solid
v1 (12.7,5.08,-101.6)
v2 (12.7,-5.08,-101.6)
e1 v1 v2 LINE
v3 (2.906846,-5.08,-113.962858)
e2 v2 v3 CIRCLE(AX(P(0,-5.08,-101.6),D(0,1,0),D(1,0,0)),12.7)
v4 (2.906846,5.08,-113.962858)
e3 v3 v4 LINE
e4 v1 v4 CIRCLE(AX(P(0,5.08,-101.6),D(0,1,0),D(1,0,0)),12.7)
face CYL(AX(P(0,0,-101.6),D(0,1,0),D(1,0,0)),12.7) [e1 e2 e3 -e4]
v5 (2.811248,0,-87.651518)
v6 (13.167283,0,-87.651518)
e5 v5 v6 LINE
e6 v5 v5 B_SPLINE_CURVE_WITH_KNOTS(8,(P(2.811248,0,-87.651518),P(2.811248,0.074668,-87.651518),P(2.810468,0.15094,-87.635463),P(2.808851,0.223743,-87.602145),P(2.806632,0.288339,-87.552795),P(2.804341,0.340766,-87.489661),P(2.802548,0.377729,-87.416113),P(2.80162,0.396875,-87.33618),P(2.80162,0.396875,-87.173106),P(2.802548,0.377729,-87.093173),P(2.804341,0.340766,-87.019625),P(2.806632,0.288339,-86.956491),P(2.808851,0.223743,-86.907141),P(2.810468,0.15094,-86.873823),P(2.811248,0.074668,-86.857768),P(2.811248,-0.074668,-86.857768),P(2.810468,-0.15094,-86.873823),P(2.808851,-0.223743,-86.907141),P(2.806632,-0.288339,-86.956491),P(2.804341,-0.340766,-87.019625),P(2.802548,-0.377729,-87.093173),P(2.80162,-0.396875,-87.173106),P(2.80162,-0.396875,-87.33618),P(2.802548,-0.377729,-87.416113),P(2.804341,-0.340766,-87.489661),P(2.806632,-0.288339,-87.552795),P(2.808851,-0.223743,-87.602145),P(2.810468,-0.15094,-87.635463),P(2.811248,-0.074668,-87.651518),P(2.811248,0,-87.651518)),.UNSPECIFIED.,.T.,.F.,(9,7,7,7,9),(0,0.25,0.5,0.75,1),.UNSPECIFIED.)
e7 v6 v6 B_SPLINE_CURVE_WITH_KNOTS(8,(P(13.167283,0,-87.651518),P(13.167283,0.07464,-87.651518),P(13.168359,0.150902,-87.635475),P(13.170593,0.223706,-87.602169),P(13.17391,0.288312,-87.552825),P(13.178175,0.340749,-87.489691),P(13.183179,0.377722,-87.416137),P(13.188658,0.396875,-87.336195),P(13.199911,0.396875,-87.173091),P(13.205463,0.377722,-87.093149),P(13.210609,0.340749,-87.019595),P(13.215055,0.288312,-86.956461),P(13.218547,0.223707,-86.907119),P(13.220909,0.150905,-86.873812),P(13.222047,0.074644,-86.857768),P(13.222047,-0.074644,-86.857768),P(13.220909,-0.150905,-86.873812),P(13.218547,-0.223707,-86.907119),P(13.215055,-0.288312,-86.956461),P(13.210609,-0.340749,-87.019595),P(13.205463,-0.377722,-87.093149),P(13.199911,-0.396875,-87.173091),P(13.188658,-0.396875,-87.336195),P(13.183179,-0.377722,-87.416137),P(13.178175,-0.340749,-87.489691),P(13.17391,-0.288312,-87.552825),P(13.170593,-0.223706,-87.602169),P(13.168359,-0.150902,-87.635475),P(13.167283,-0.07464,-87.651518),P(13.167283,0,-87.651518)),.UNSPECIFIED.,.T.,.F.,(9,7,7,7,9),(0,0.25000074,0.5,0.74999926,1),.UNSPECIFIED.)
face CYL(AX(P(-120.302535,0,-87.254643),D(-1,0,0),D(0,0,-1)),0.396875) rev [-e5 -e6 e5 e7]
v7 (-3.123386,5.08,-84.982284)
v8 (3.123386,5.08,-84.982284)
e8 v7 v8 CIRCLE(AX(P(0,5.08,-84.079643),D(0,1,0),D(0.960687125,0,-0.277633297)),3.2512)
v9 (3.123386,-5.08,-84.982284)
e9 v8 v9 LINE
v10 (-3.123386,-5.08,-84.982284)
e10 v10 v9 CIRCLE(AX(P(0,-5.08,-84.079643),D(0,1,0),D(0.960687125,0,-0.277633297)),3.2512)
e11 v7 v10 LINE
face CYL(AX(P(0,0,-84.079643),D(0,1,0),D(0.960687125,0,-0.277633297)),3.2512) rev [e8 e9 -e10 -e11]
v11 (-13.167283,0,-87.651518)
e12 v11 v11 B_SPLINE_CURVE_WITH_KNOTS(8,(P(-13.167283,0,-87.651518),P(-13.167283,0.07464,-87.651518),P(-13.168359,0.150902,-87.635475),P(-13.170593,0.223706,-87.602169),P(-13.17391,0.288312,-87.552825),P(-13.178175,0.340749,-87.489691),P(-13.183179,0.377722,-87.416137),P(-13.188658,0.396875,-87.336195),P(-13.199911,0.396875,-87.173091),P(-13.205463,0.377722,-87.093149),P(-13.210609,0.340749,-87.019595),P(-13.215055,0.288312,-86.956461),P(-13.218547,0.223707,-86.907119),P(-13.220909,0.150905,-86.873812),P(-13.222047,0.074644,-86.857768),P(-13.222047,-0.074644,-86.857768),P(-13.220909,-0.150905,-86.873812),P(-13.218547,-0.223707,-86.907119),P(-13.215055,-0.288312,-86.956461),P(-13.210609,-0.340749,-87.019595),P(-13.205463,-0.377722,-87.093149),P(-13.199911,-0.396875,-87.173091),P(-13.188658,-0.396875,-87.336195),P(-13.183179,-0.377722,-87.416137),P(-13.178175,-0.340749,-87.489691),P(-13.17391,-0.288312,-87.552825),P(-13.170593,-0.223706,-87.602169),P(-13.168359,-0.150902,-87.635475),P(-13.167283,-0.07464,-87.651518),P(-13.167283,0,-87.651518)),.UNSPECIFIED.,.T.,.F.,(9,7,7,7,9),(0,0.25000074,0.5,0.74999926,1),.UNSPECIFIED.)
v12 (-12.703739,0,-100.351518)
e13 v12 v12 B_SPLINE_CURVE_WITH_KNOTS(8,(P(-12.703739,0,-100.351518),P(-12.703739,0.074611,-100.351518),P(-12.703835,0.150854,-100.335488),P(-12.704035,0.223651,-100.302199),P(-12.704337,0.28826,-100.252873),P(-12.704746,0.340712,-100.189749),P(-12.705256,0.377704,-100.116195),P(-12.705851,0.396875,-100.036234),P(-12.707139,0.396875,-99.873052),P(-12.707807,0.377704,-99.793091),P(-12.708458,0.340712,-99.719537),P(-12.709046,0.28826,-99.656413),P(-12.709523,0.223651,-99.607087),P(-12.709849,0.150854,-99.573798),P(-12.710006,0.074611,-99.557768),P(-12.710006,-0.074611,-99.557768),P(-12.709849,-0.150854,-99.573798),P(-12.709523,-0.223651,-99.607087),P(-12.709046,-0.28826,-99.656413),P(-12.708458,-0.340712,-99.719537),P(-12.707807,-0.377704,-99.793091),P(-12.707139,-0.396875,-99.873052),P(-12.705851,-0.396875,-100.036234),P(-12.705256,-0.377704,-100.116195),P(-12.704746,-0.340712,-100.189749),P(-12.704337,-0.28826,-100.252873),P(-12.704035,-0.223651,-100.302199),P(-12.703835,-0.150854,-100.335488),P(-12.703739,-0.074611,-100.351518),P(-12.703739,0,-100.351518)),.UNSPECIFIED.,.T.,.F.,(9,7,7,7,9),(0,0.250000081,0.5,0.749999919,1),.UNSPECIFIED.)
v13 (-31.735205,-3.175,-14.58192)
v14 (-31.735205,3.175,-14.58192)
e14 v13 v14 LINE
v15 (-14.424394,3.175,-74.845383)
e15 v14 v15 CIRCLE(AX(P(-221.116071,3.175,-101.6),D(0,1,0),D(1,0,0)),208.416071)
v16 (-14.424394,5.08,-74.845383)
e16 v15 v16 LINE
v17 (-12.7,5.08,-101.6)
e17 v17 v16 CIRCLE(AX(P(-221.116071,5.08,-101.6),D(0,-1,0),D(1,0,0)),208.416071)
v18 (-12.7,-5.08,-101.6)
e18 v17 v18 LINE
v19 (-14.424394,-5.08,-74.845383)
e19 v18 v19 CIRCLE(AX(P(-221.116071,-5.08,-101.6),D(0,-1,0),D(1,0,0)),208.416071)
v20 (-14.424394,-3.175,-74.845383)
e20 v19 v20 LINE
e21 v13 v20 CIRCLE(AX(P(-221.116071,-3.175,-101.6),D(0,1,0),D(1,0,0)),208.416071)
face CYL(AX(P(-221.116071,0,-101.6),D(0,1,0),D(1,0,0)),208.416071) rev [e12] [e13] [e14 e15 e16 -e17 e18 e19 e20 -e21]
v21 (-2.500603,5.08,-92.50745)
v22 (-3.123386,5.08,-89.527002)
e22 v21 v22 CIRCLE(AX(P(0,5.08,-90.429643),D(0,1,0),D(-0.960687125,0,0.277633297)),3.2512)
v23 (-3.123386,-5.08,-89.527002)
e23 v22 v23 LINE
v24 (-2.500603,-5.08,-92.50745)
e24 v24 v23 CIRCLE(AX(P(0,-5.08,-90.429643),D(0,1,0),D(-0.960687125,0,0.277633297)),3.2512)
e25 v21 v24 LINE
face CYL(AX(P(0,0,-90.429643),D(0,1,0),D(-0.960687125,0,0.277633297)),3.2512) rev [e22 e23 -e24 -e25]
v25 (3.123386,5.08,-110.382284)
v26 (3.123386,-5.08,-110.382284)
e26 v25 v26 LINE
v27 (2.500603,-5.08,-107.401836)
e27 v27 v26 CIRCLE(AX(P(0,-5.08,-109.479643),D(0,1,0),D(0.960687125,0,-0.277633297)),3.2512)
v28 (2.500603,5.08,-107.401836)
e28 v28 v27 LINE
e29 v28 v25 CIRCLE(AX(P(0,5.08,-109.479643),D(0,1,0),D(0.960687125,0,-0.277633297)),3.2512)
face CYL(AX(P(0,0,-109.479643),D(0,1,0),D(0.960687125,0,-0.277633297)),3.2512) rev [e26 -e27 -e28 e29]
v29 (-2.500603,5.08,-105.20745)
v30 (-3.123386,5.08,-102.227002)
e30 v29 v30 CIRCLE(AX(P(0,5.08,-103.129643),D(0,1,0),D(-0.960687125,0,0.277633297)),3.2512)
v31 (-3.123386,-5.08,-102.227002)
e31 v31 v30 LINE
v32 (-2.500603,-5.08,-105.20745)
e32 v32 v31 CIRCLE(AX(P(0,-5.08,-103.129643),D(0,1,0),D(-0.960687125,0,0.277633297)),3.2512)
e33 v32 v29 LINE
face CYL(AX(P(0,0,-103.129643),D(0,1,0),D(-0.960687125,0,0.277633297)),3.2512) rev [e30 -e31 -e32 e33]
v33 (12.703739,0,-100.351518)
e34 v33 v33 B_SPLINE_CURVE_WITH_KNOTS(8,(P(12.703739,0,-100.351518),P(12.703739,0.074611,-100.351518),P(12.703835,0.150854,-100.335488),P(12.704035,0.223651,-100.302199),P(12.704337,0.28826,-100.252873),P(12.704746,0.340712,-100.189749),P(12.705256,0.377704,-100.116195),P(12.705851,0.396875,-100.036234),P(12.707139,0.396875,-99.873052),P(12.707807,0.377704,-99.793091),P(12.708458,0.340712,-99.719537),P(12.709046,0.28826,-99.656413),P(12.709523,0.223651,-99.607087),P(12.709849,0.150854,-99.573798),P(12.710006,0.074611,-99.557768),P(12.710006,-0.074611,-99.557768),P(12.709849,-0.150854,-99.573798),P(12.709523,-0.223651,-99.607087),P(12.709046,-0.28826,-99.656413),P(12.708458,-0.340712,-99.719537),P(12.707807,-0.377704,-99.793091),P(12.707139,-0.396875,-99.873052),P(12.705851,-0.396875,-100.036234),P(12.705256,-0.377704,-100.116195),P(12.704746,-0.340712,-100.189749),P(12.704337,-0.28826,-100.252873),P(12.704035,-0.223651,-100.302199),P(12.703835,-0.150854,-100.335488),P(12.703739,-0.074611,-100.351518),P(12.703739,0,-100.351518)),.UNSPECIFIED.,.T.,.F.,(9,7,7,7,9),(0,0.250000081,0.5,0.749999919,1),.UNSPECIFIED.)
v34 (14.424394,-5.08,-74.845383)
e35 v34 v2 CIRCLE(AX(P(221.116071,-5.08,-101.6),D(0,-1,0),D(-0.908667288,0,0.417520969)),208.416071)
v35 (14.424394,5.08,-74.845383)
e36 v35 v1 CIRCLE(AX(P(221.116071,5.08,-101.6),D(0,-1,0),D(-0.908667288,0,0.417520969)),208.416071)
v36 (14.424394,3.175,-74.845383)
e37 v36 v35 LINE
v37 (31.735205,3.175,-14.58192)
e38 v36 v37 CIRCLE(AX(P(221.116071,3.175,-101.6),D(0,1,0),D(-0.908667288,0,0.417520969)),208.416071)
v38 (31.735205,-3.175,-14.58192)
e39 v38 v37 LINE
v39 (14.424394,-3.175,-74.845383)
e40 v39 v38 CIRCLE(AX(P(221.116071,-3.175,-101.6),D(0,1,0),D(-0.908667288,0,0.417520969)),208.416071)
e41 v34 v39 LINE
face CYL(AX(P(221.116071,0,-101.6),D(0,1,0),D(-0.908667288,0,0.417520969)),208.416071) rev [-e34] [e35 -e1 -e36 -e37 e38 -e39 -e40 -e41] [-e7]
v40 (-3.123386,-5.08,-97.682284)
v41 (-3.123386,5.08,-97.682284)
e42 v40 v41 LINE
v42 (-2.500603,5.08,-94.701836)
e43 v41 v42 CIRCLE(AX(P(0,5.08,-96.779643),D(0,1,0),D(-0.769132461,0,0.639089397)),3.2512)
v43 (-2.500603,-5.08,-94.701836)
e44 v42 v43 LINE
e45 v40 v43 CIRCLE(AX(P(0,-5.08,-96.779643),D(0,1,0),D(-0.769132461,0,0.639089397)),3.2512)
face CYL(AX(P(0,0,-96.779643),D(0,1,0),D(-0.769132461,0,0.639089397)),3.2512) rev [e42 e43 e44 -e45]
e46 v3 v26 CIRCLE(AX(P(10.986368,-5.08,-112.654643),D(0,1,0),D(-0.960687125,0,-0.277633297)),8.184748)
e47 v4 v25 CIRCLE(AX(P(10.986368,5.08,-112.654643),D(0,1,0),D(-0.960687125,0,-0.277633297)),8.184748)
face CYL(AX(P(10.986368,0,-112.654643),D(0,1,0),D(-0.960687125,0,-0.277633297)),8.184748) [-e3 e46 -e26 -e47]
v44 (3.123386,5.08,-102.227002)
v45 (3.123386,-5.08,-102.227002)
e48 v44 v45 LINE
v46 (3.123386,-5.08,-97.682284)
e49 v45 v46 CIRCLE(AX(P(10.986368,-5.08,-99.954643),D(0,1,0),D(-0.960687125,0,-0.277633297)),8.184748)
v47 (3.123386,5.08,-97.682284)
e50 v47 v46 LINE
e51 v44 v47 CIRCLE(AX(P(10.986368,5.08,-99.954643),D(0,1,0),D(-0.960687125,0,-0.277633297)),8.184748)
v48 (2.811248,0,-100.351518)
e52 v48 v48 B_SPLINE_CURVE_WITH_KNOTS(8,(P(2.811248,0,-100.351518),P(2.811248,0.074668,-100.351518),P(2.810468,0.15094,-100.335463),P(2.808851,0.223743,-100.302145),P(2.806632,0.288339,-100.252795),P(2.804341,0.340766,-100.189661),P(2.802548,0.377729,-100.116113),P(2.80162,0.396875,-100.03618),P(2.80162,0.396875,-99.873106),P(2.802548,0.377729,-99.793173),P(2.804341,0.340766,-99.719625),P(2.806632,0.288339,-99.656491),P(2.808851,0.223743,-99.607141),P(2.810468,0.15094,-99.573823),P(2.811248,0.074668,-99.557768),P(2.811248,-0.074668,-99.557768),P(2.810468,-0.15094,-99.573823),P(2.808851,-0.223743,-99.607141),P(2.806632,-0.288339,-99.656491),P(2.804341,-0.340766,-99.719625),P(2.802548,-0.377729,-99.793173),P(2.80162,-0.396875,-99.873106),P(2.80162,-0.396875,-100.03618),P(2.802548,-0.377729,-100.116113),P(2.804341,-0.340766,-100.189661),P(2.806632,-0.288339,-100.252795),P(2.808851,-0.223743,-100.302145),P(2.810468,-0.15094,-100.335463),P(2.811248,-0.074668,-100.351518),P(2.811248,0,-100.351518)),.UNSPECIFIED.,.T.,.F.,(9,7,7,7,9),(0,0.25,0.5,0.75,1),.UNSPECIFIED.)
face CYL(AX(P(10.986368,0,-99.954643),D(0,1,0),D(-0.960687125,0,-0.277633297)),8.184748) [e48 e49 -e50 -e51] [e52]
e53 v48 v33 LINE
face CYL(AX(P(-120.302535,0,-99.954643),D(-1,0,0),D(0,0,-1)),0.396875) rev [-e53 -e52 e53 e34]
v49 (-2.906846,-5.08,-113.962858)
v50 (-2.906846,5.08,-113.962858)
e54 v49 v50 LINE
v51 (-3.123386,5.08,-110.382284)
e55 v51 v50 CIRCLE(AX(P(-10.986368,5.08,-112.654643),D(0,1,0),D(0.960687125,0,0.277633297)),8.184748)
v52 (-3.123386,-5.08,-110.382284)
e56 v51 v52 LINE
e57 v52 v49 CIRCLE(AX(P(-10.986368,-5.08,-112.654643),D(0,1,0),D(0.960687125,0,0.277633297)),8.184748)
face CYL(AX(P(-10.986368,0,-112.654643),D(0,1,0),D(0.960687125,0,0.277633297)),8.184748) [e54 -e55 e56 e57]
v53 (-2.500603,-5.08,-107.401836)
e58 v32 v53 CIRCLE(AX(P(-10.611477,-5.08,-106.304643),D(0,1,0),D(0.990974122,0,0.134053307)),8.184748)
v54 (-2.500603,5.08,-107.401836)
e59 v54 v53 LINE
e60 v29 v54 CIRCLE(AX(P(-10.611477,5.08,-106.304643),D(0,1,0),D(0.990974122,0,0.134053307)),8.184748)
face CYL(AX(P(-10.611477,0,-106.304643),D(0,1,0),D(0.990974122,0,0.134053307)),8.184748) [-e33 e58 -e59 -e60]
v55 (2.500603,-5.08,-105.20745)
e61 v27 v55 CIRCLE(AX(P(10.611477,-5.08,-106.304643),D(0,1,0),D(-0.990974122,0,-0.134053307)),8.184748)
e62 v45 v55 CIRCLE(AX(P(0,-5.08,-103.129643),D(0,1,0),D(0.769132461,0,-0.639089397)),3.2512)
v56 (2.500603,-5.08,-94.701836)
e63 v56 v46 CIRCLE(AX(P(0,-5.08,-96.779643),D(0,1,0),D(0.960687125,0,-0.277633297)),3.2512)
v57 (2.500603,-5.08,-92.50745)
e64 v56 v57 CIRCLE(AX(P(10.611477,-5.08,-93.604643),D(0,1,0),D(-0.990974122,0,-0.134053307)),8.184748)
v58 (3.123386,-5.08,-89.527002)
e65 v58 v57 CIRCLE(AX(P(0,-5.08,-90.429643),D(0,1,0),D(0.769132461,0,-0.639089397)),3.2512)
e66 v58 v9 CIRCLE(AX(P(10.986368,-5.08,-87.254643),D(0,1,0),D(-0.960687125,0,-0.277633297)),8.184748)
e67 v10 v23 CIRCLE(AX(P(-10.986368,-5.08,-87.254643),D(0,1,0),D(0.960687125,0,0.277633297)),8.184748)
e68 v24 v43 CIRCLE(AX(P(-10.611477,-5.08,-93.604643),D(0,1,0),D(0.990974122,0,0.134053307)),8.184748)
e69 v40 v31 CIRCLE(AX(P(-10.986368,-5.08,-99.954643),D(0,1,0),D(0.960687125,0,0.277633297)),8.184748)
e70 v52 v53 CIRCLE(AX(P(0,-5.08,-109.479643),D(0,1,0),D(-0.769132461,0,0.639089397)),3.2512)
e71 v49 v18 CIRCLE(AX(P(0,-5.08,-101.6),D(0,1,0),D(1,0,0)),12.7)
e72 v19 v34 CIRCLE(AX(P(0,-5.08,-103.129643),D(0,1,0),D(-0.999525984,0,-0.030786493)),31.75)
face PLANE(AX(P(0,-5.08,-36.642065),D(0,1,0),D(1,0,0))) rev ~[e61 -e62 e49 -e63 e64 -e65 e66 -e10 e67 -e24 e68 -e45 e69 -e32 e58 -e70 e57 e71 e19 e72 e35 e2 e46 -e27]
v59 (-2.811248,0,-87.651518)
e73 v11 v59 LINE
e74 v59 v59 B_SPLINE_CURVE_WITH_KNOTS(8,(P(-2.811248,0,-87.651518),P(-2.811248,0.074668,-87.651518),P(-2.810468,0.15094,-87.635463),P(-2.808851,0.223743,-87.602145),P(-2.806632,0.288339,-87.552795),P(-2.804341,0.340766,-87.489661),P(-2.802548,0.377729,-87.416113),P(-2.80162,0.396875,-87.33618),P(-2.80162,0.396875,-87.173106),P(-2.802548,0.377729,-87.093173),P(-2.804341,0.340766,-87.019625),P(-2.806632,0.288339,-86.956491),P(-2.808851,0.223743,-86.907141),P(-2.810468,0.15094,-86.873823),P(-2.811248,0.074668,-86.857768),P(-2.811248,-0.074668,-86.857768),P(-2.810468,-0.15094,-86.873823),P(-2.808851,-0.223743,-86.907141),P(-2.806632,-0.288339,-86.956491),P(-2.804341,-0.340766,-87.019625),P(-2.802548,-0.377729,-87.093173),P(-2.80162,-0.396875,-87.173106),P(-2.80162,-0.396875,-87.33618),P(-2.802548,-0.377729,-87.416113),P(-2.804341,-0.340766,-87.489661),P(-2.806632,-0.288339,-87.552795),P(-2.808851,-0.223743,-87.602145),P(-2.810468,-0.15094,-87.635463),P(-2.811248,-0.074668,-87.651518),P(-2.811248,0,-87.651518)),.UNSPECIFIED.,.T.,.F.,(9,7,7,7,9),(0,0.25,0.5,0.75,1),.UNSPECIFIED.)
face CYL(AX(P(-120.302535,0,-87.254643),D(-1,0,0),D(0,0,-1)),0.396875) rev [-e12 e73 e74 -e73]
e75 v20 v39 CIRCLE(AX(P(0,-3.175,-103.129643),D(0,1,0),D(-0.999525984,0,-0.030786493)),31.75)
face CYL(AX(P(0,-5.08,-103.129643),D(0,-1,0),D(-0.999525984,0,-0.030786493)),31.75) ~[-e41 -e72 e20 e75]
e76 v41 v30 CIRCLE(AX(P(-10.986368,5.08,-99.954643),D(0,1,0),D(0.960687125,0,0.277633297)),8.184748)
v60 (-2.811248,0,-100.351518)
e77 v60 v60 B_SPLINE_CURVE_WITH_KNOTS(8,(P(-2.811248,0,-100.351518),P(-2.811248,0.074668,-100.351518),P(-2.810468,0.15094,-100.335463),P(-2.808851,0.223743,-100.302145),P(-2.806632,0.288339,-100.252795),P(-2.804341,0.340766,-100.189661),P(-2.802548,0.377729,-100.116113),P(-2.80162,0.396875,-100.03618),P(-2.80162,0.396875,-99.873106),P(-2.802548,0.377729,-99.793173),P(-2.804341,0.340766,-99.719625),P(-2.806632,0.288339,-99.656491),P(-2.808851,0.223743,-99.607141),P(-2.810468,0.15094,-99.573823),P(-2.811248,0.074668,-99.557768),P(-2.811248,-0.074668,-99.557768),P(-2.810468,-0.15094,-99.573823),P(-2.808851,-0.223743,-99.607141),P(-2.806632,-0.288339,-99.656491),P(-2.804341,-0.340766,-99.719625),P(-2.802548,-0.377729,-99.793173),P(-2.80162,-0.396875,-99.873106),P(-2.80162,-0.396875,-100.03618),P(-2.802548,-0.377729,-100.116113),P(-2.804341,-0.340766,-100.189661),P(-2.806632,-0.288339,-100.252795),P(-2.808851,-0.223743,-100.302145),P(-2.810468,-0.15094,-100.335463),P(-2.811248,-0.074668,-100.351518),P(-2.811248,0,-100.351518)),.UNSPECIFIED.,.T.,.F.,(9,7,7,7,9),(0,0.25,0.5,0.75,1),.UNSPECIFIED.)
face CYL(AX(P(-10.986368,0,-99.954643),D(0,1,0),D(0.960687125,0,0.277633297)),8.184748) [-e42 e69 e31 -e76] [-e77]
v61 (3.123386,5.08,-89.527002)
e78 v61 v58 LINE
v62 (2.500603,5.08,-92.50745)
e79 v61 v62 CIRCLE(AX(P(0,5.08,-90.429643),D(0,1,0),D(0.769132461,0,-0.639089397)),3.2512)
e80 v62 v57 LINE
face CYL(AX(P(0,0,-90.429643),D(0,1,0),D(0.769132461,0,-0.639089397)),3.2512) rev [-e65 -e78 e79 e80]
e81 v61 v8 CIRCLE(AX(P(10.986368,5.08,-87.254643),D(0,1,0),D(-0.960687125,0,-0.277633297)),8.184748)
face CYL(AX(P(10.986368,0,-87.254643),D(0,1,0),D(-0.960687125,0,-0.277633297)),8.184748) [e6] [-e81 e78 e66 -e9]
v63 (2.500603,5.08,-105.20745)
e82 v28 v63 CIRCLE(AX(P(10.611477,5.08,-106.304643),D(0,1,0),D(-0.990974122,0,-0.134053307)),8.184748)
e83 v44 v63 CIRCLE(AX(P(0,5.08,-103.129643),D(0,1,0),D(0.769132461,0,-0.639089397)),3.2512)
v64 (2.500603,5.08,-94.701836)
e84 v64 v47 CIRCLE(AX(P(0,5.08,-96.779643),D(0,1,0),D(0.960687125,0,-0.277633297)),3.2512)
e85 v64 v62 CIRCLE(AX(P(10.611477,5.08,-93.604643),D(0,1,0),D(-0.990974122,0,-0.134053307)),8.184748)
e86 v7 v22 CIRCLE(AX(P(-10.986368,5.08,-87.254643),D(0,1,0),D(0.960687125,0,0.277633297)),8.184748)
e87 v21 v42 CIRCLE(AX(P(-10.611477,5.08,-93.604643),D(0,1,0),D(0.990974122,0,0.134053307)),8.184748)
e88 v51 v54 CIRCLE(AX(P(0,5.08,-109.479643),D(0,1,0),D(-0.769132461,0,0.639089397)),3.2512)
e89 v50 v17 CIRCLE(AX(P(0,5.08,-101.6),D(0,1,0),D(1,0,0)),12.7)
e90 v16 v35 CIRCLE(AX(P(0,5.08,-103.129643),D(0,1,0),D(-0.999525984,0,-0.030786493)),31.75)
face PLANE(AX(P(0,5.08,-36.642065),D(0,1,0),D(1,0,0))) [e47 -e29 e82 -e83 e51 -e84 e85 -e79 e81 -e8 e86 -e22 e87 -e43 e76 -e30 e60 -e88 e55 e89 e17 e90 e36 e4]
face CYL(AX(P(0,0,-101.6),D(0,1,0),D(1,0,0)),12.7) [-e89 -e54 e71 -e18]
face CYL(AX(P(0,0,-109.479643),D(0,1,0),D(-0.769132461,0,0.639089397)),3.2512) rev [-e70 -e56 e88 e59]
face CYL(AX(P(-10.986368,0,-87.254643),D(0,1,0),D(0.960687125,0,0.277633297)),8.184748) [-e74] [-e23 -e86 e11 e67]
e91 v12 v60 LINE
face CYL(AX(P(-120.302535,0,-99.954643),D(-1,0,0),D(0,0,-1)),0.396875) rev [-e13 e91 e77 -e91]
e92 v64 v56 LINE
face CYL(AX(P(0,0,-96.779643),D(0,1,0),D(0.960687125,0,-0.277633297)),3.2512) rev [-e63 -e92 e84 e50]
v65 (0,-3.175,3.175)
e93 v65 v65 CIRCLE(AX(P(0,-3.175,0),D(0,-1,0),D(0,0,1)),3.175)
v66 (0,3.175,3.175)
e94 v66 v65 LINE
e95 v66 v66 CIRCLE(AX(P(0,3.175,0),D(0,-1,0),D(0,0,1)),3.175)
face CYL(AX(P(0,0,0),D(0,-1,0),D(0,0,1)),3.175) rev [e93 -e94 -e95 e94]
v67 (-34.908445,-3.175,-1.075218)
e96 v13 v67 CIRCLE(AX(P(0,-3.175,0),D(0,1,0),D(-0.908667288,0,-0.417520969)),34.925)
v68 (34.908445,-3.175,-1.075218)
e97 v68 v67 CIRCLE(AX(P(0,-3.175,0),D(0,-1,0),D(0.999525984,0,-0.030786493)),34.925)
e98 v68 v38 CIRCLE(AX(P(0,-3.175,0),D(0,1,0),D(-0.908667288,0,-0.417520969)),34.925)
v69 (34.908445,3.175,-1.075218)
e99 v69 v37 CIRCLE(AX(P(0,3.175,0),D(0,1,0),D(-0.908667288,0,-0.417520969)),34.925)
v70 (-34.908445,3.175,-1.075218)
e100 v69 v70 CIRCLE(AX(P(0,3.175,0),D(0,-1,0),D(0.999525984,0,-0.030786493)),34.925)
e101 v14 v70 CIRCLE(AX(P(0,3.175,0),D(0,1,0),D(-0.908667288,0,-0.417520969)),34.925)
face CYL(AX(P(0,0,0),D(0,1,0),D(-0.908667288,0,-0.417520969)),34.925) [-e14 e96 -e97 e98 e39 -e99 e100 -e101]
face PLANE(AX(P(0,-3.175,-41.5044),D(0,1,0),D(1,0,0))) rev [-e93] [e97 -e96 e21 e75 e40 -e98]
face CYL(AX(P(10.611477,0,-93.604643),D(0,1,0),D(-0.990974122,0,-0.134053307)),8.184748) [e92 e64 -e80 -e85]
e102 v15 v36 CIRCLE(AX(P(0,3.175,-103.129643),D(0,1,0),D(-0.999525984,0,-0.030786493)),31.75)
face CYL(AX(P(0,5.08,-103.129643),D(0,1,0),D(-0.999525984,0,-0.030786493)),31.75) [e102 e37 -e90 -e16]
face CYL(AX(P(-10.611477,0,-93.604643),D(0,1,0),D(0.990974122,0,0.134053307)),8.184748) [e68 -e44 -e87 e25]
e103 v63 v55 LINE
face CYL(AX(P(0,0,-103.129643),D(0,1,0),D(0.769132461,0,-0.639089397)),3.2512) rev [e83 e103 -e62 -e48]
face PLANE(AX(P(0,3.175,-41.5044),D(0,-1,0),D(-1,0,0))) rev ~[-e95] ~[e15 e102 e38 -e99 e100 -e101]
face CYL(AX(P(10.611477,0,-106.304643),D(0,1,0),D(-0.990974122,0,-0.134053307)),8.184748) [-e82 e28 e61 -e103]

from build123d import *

# Parameters (mm, degrees)
SKETCH1_R               = 3.175
BOSS_EXTRUDE1_DEPTH     = 5.08
CUT_EXTRUDE2_DEPTH      = 5.715
CUT_EXTRUDE3_DEPTH      = 120.302535254
CUT_EXTRUDE3_DEPTH_BACK = 120.302535254
SKETCH4_R               = 0.396875
CUT_EXTRUDE8_DEPTH      = 1.905


with BuildPart() as part:
    # Sketch1 → Boss-Extrude1 (new, symmetric)
    with BuildSketch(Plane(origin=(0, 0, 0), x_dir=(1, 0, 0), z_dir=(0, 1, 0))):
        with BuildLine():
            ThreePointArc((-12.7, 101.6), (-17.514407624, 57.062136043), (-31.735205033, 14.581919851))
            ThreePointArc((-31.735205033, 14.581919851), (0, -34.925), (31.735205033, 14.581919851))
            ThreePointArc((31.735205033, 14.581919851), (17.514407624, 57.062136043), (12.7, 101.6))
            ThreePointArc((12.7, 101.6), (0, 114.3), (-12.7, 101.6))
        make_face()
        with Locations(Location((0, 0, 0), (0, 0, 270))):
            Circle(SKETCH1_R, mode=Mode.SUBTRACT)
    extrude(amount=BOSS_EXTRUDE1_DEPTH, both=True)

    # Sketch2 → Cut-Extrude2 (cut, symmetric)
    with BuildSketch(Plane(origin=(0, 0, 0), x_dir=(1, 0, 0), z_dir=(0, 1, 0))):
        with BuildLine():
            ThreePointArc((-2.500603456, 105.207450456), (-2.42672892, 106.304643007), (-2.500603456, 107.401835557))
            ThreePointArc((-2.500603456, 107.401835557), (-3.18246494, 108.814648011), (-3.123385981, 110.382284382))
            ThreePointArc((-3.123385981, 110.382284382), (-2.80162, 112.654643007), (-3.123385981, 114.927001632))
            ThreePointArc((-3.123385981, 114.927001632), (-3.18246494, 116.494638003), (-2.500603456, 117.907450456))
            ThreePointArc((-2.500603456, 117.907450456), (-2.42672892, 119.004643007), (-2.500603456, 120.101835557))
            ThreePointArc((-2.500603456, 120.101835557), (-3.18246494, 121.514648011), (-3.123385981, 123.082284382))
            ThreePointArc((-3.123385981, 123.082284382), (-2.80162, 125.354643007), (-3.123385981, 127.627001632))
            ThreePointArc((-3.123385981, 127.627001632), (-3.18246494, 129.194638003), (-2.500603456, 130.607450456))
            ThreePointArc((-2.500603456, 130.607450456), (-2.451700025, 132.343502027), (-2.77019509, 134.050788615))
            ThreePointArc((-2.77019509, 134.050788615), (0, 137.771179007), (2.77019509, 134.050788615))
            ThreePointArc((2.77019509, 134.050788615), (2.451700025, 132.343502027), (2.500603456, 130.607450456))
            ThreePointArc((2.500603456, 130.607450456), (3.18246494, 129.194638003), (3.123385981, 127.627001632))
            ThreePointArc((3.123385981, 127.627001632), (2.80162, 125.354643007), (3.123385981, 123.082284382))
            ThreePointArc((3.123385981, 123.082284382), (3.18246494, 121.514648011), (2.500603456, 120.101835557))
            ThreePointArc((2.500603456, 120.101835557), (2.42672892, 119.004643007), (2.500603456, 117.907450456))
            ThreePointArc((2.500603456, 117.907450456), (3.18246494, 116.494638003), (3.123385981, 114.927001632))
            ThreePointArc((3.123385981, 114.927001632), (2.80162, 112.654643007), (3.123385981, 110.382284382))
            ThreePointArc((3.123385981, 110.382284382), (3.18246494, 108.814648011), (2.500603456, 107.401835557))
            ThreePointArc((2.500603456, 107.401835557), (2.42672892, 106.304643007), (2.500603456, 105.207450456))
            ThreePointArc((2.500603456, 105.207450456), (3.18246494, 103.794638003), (3.123385981, 102.227001632))
            ThreePointArc((3.123385981, 102.227001632), (2.80162, 99.954643007), (3.123385981, 97.682284382))
            ThreePointArc((3.123385981, 97.682284382), (3.18246494, 96.114648011), (2.500603456, 94.701835557))
            ThreePointArc((2.500603456, 94.701835557), (2.42672892, 93.604643007), (2.500603456, 92.507450456))
            ThreePointArc((2.500603456, 92.507450456), (3.18246494, 91.094638003), (3.123385981, 89.527001632))
            ThreePointArc((3.123385981, 89.527001632), (2.80162, 87.254643007), (3.123385981, 84.982284382))
            ThreePointArc((3.123385981, 84.982284382), (0, 80.828443007), (-3.123385981, 84.982284382))
            ThreePointArc((-3.123385981, 84.982284382), (-2.80162, 87.254643007), (-3.123385981, 89.527001632))
            ThreePointArc((-3.123385981, 89.527001632), (-3.18246494, 91.094638003), (-2.500603456, 92.507450456))
            ThreePointArc((-2.500603456, 92.507450456), (-2.42672892, 93.604643007), (-2.500603456, 94.701835557))
            ThreePointArc((-2.500603456, 94.701835557), (-3.18246494, 96.114648011), (-3.123385981, 97.682284382))
            ThreePointArc((-3.123385981, 97.682284382), (-2.80162, 99.954643007), (-3.123385981, 102.227001632))
            ThreePointArc((-3.123385981, 102.227001632), (-3.18246494, 103.794638003), (-2.500603456, 105.207450456))
        make_face()
    extrude(amount=CUT_EXTRUDE2_DEPTH, both=True, mode=Mode.SUBTRACT)

    # Sketch4 → Cut-Extrude3 (cut, two sides: drawn at the far end of the back side and taken through both)
    with BuildSketch(Plane(origin=(0, 0, 0), x_dir=(0, 0, -1), z_dir=(1, 0, 0)).offset(-CUT_EXTRUDE3_DEPTH_BACK)):
        with Locations((87.254643007, 0)):
            Circle(SKETCH4_R)
        with Locations((99.954643007, 0)):
            Circle(SKETCH4_R)
    extrude(amount=CUT_EXTRUDE3_DEPTH + CUT_EXTRUDE3_DEPTH_BACK, mode=Mode.SUBTRACT)

    # Sketch11 → Cut-Extrude8 (cut)
    with BuildSketch(Plane(origin=(0, 5.08, 0), x_dir=(1, 0, 0), z_dir=(0, 1, 0))):
        with BuildLine():
            Line((-34.908444977, 1.075218257), (-31.734949979, 104.107114149))
            ThreePointArc((-31.734949979, 104.107114149), (0, 71.379643007), (31.734949979, 104.107114149))
            Line((31.734949979, 104.107114149), (34.908444977, 1.075218257))
            ThreePointArc((34.908444977, 1.075218257), (0, -34.925), (-34.908444977, 1.075218257))
        make_face()
    cut_extrude8 = extrude(amount=-CUT_EXTRUDE8_DEPTH, mode=Mode.SUBTRACT)

    # Mirror1: Cut-Extrude8 across plane
    add(cut_extrude8.mirror(Plane.ZX), mode=Mode.SUBTRACT)


solid = part.part
